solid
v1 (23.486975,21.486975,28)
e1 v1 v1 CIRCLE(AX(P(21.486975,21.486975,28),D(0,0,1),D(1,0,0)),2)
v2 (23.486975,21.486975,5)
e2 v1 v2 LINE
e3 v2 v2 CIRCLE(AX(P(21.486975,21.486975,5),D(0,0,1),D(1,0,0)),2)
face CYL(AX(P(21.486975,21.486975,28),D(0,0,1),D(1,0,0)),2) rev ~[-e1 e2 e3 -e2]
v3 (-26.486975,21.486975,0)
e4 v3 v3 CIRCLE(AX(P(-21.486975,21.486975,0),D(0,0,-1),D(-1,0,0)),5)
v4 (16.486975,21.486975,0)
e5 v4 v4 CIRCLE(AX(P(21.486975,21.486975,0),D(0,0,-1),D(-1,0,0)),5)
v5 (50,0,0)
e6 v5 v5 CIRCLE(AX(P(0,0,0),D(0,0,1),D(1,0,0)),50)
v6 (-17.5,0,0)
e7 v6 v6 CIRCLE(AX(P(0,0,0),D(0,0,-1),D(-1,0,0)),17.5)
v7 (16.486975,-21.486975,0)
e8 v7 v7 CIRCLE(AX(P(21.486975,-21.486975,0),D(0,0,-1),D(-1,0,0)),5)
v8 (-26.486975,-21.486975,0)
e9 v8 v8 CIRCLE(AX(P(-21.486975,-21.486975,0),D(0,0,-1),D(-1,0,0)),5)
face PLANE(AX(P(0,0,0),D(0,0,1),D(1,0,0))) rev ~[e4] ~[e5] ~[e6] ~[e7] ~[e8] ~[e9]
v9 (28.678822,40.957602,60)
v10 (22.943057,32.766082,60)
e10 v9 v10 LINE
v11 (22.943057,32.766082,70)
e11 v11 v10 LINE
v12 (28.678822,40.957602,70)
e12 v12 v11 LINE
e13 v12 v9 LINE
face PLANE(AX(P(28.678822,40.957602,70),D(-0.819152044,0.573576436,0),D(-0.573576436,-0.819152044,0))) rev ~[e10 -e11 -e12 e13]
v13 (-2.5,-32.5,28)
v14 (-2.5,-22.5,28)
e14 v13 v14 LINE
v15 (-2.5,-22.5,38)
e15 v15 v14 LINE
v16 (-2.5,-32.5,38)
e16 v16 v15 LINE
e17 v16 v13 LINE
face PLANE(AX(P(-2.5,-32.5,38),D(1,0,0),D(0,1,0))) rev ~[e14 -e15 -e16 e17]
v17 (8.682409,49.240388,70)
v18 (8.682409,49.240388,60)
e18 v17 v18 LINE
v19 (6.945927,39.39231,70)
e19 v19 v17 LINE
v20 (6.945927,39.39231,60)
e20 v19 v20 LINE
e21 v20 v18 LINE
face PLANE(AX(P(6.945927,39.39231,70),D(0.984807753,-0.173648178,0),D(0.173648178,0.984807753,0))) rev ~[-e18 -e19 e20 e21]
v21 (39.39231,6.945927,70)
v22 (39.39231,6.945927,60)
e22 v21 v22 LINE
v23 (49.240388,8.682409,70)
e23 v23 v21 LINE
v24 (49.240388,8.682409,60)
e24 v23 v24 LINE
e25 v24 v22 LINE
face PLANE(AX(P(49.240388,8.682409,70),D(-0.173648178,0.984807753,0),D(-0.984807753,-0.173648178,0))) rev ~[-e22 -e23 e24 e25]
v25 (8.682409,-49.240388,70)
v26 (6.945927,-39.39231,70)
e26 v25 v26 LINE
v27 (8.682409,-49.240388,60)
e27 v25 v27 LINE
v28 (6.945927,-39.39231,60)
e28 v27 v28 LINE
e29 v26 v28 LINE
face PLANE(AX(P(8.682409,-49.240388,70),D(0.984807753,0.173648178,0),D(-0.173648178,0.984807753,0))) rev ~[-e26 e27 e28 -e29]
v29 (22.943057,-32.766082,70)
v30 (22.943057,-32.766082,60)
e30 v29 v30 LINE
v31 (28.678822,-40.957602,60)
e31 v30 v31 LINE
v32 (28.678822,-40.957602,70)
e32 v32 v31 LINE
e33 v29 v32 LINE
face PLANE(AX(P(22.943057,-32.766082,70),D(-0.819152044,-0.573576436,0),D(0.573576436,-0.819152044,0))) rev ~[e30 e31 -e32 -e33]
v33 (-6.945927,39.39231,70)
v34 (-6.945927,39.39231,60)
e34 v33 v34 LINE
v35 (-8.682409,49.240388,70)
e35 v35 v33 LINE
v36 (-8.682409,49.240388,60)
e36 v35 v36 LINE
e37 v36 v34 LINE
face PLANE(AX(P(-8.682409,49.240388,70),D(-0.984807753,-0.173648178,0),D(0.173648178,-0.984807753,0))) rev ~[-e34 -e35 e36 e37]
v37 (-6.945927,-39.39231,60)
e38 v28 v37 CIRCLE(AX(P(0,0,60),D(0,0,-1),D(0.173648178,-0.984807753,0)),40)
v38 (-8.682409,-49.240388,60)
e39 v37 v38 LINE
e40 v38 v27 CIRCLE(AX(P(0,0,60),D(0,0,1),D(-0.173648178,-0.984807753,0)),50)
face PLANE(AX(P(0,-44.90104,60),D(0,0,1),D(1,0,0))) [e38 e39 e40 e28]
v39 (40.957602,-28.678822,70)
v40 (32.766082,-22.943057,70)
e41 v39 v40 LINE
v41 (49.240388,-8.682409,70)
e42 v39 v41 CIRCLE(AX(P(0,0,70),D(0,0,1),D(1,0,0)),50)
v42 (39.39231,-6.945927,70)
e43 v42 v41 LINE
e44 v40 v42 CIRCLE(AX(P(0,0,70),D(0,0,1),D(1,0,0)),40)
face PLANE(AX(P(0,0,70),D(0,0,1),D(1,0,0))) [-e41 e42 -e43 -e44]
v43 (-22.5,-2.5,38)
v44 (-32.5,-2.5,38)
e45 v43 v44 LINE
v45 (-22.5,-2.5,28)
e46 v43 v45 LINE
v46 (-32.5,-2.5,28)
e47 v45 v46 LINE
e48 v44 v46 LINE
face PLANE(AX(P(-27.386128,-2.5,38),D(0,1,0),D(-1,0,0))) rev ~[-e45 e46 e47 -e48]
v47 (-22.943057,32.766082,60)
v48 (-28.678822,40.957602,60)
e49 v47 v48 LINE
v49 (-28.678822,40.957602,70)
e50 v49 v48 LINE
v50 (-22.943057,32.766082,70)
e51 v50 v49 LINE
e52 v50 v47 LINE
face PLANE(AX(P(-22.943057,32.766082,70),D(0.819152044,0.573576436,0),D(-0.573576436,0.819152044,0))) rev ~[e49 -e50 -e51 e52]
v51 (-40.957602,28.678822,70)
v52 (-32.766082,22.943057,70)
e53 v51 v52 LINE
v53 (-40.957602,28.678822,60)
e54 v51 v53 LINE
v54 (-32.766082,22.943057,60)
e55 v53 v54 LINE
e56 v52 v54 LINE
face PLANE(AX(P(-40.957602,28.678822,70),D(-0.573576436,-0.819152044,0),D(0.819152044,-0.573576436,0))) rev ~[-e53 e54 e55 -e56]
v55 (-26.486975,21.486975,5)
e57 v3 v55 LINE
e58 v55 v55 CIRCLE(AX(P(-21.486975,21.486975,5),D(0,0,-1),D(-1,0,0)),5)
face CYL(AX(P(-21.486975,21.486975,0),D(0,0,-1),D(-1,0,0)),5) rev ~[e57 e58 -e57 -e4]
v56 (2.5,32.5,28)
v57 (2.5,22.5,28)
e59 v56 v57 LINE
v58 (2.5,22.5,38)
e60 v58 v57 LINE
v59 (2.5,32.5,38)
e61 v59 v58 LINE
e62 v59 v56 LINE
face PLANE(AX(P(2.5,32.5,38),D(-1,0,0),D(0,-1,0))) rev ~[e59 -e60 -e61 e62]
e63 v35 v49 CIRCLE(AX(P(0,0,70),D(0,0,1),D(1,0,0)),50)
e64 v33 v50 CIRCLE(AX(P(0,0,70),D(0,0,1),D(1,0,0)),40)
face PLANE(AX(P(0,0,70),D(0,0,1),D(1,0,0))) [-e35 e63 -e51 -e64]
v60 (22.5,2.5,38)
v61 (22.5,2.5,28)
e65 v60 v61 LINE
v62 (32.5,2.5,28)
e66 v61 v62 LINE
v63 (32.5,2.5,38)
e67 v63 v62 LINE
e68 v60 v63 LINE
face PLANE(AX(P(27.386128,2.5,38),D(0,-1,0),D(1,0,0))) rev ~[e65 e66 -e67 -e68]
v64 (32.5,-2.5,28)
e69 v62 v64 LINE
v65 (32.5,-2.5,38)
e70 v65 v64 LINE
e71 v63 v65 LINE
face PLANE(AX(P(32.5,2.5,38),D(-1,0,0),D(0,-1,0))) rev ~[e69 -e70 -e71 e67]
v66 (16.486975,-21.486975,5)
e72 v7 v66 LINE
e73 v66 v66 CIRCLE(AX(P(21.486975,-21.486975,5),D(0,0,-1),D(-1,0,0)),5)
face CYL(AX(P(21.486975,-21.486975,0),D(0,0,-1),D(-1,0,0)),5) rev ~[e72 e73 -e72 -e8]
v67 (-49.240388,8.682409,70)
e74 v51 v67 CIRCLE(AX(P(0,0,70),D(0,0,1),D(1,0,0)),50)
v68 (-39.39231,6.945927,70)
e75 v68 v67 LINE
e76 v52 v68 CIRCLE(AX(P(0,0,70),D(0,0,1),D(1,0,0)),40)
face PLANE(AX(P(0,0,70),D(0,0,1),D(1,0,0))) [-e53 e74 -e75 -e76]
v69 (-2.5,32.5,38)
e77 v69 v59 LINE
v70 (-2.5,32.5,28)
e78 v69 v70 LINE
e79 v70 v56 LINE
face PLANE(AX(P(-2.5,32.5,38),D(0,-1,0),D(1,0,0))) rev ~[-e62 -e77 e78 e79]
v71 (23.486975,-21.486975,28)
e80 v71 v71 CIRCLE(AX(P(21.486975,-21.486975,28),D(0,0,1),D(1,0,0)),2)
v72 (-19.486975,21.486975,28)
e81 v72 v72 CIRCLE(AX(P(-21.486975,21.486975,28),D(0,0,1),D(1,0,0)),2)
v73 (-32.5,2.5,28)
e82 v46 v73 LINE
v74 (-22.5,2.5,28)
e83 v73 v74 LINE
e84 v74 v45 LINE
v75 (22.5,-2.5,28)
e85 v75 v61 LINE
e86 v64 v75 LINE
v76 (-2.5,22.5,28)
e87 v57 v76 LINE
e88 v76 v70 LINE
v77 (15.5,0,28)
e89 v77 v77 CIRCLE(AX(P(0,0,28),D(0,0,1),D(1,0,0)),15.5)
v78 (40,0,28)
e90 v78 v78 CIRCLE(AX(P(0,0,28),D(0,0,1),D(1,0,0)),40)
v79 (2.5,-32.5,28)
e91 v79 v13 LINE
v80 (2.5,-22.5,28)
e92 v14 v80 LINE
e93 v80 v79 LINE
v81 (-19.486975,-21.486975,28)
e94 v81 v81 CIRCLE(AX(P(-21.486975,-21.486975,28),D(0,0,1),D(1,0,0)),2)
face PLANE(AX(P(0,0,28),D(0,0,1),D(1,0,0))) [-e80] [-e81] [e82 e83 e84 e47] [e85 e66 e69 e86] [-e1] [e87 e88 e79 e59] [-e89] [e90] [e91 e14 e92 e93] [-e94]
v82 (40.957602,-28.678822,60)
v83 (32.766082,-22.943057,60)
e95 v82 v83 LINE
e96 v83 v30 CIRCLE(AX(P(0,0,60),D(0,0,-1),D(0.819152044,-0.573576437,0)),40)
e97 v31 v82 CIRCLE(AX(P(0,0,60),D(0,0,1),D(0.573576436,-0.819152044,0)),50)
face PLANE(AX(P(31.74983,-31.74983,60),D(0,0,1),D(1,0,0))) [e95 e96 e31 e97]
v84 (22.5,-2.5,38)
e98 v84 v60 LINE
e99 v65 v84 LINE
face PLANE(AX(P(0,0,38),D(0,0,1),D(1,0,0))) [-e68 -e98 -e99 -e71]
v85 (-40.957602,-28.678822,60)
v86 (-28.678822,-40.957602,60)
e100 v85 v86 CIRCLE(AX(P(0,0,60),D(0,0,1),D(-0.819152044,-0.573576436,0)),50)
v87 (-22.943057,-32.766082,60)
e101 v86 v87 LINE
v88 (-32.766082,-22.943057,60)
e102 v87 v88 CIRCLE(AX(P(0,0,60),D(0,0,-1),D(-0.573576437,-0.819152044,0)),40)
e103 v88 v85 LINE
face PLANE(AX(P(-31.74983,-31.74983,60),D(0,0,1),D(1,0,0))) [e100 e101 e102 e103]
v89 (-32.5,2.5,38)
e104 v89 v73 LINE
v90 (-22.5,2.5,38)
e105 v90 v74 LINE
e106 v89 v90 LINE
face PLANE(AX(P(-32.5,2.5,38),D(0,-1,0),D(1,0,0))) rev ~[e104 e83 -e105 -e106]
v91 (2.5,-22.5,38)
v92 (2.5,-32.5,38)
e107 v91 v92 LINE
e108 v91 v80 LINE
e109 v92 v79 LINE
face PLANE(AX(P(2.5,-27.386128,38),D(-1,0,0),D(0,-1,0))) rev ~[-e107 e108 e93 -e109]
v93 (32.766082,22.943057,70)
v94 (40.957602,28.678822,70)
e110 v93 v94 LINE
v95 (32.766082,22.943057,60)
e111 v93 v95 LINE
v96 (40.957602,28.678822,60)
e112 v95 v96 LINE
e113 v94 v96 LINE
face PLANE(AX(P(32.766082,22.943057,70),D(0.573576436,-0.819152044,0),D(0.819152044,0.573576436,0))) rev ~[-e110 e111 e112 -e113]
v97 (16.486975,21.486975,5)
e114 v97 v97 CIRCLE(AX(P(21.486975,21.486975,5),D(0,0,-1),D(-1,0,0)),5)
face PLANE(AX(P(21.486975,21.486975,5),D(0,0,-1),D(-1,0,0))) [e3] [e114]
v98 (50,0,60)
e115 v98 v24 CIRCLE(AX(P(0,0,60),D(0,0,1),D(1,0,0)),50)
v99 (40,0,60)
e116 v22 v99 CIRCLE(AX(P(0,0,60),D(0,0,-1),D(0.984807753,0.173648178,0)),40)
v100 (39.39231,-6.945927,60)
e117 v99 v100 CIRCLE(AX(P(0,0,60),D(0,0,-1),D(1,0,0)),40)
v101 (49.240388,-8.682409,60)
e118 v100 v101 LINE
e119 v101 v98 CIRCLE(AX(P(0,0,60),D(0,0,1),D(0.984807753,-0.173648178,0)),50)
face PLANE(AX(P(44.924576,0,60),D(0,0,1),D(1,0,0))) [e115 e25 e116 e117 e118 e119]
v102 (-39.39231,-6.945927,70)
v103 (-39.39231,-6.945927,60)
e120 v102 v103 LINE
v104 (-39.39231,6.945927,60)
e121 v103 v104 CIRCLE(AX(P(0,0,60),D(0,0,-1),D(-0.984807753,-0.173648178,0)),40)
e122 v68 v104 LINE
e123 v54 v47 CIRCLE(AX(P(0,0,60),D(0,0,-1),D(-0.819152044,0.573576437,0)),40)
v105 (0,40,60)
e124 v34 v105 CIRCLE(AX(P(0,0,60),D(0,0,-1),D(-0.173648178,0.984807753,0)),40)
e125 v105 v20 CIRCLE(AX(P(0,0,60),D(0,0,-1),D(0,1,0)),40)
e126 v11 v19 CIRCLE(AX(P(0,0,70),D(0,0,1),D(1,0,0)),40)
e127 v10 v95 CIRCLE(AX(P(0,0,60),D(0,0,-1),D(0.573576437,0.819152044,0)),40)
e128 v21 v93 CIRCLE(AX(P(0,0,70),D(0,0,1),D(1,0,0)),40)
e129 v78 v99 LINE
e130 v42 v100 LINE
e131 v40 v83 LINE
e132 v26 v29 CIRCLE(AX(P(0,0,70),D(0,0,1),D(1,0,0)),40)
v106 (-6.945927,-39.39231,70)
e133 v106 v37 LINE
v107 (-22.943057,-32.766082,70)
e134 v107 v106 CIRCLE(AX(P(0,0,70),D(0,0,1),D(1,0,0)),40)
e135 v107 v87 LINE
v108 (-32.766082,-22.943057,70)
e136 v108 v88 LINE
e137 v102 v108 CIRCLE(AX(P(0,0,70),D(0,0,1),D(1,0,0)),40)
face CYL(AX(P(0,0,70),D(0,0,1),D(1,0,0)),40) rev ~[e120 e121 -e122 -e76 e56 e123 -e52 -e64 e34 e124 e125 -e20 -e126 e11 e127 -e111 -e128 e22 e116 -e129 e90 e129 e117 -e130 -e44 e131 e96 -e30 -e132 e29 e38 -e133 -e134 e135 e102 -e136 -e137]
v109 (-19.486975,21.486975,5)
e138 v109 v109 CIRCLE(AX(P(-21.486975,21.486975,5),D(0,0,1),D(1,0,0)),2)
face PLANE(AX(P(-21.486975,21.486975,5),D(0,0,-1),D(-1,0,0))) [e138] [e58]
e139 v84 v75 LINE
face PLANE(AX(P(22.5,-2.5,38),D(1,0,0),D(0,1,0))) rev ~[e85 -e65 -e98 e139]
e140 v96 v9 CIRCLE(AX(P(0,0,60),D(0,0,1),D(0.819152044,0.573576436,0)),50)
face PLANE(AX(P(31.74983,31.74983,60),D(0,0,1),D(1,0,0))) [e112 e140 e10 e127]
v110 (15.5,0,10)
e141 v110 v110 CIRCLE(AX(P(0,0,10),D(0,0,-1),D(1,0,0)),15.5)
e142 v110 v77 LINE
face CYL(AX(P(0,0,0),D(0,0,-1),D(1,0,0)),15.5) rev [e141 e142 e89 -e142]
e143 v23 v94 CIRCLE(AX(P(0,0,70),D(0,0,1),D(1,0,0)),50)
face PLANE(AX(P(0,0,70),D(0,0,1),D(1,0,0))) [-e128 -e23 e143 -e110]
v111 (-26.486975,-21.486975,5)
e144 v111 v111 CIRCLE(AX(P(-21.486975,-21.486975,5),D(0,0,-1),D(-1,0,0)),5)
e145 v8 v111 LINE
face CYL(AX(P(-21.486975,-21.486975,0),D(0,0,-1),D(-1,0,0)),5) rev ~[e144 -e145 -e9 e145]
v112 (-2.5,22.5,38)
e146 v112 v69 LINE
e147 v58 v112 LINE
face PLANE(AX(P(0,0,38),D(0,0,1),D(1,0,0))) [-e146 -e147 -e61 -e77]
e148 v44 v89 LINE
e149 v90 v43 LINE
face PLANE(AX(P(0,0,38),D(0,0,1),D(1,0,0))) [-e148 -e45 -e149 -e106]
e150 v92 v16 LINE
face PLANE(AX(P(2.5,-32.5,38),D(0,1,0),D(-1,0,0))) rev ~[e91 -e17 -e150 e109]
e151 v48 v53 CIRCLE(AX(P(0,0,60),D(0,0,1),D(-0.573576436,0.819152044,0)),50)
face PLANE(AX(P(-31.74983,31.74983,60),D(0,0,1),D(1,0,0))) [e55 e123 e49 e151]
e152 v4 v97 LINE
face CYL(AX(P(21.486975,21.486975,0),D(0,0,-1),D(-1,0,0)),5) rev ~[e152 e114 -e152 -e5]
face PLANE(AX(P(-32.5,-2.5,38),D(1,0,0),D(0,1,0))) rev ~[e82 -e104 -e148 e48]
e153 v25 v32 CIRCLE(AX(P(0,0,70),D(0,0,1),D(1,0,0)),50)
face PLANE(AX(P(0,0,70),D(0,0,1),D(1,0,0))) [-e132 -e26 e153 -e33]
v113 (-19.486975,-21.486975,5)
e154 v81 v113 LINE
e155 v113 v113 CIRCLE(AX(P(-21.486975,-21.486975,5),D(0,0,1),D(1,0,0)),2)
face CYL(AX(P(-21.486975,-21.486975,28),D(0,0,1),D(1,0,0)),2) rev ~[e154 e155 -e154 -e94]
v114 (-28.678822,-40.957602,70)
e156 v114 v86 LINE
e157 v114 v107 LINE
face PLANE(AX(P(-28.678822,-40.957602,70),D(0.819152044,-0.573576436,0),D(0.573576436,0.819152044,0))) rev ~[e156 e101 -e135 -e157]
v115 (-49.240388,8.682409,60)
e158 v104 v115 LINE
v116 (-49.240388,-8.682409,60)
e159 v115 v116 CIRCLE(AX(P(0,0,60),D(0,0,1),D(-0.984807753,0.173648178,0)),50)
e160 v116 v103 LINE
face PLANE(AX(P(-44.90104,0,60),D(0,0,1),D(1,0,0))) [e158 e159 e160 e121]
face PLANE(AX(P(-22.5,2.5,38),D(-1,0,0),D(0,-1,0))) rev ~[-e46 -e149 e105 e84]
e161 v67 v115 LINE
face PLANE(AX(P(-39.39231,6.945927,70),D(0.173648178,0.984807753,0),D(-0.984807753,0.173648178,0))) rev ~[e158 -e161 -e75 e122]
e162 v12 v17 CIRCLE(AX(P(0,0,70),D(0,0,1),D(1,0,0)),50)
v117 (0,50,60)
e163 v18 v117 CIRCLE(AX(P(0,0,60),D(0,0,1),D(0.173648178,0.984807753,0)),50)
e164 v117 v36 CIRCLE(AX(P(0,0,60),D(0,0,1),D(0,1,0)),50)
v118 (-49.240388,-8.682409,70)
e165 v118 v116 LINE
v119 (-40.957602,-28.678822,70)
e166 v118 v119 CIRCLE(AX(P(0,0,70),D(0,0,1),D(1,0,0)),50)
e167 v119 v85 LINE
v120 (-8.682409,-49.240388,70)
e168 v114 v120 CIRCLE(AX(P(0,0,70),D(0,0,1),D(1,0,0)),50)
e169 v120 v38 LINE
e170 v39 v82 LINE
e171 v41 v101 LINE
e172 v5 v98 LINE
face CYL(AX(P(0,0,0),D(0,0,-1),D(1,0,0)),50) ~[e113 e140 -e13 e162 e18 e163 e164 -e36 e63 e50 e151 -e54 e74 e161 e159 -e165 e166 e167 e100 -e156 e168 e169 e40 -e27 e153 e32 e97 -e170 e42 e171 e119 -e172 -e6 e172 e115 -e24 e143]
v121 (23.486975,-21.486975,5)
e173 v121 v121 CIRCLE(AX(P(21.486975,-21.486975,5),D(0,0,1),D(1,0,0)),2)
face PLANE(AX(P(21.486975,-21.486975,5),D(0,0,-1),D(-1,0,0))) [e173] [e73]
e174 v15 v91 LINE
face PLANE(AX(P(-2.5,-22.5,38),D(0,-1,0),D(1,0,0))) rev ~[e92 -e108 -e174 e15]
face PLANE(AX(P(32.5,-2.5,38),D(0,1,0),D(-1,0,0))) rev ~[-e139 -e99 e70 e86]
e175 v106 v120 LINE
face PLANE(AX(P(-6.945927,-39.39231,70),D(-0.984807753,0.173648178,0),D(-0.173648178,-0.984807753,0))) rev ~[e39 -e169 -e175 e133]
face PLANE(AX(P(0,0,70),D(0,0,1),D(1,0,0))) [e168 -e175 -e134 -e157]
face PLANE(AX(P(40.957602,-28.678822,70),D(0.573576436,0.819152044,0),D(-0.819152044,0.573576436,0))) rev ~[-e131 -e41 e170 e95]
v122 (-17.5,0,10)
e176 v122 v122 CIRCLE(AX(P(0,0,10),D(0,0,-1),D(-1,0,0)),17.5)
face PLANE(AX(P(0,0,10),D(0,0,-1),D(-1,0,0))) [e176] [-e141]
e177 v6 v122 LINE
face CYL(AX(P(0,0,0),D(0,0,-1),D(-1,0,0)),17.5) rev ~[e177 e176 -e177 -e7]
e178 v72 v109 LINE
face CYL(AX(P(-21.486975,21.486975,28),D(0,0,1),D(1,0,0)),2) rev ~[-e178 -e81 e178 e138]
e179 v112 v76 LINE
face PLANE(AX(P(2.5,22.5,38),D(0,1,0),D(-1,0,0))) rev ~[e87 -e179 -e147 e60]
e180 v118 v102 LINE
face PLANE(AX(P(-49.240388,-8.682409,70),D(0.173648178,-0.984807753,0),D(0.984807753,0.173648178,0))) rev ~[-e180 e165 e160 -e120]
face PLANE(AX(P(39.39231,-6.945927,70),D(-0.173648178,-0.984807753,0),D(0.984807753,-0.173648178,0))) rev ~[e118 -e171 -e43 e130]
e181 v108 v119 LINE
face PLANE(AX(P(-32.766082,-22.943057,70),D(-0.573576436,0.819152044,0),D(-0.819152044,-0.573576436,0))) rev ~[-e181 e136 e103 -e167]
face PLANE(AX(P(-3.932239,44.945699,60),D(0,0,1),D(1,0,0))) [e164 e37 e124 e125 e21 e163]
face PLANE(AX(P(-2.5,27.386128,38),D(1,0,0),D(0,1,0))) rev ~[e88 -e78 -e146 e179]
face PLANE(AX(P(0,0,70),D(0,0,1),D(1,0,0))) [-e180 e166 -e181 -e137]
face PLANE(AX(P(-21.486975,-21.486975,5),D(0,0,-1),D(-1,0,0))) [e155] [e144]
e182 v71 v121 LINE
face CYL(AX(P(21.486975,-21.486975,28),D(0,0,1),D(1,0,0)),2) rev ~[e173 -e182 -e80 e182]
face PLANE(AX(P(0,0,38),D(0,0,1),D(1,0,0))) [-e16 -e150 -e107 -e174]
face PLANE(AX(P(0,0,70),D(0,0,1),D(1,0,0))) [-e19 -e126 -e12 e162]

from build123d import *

# Parameters (mm, degrees)
CROQUIS1_R              = 50
CROQUIS1_R_2            = 15.5
SALIENTE_EXTRUIR1_DEPTH = 70
CROQUIS2_R              = 40
CORTAR_EXTRUIR1_DEPTH   = 32
CROQUIS3_R              = 17.5
CORTAR_EXTRUIR2_DEPTH   = 10
CROQUIS4_R              = 40
CROQUIS4_R_2            = 15.5
CORTAR_EXTRUIR3_DEPTH   = 10
CROQUIS5_R              = 2
CORTAR_EXTRUIR4_DEPTH   = 83.24354078
CROQUIS6_R              = 5
CORTAR_EXTRUIR5_DEPTH   = 5
CORTAR_EXTRUIR6_DEPTH   = 10


with BuildPart() as part:
    # Croquis1 → Saliente-Extruir1 (new body)
    with BuildSketch(Plane.XY):
        Circle(CROQUIS1_R)
        Circle(CROQUIS1_R_2, mode=Mode.SUBTRACT)
    extrude(amount=SALIENTE_EXTRUIR1_DEPTH)

    # Croquis2 → Cortar-Extruir1 (cut)
    with BuildSketch(Plane.XY.offset(70)):
        Circle(CROQUIS2_R)
    extrude(amount=-CORTAR_EXTRUIR1_DEPTH, mode=Mode.SUBTRACT)

    # Croquis3 → Cortar-Extruir2 (cut)
    with BuildSketch(Plane(origin=(0, 0, 0), x_dir=(-1, 0, 0), z_dir=(0, 0, -1))):
        Circle(CROQUIS3_R)
    extrude(amount=-CORTAR_EXTRUIR2_DEPTH, mode=Mode.SUBTRACT)

    # Croquis4 → Cortar-Extruir3 (cut)
    # profile 1 of 2: a face of its own
    with BuildSketch(Plane.XY.offset(38)):
        Circle(CROQUIS4_R)
        with BuildLine():
            Line((-2.5, 27.386127875), (-2.5, 32.5))
            Line((-2.5, 32.5), (2.5, 32.5))
            Line((2.5, 32.5), (2.5, 27.386127875))
            ThreePointArc((2.5, 27.386127875), (19.445436483, 19.445436483), (27.386127875, 2.5))
            Line((27.386127875, 2.5), (32.5, 2.5))
            Line((32.5, 2.5), (32.5, -2.5))
            Line((32.5, -2.5), (27.386127875, -2.5))
            ThreePointArc((27.386127875, -2.5), (19.445436483, -19.445436483), (2.5, -27.386127875))
            Line((2.5, -27.386127875), (2.5, -32.5))
            Line((2.5, -32.5), (-2.5, -32.5))
            Line((-2.5, -32.5), (-2.5, -27.386127875))
            ThreePointArc((-2.5, -27.386127875), (-19.445436483, -19.445436483), (-27.386127875, -2.5))
            Line((-27.386127875, -2.5), (-32.5, -2.5))
            Line((-32.5, -2.5), (-32.5, 2.5))
            Line((-32.5, 2.5), (-27.386127875, 2.5))
            ThreePointArc((-27.386127875, 2.5), (-19.445436483, 19.445436483), (-2.5, 27.386127875))
        make_face(mode=Mode.SUBTRACT)
    # profile 2 of 2: a face of its own
    with BuildSketch(Plane.XY.offset(38)):
        with BuildLine():
            Line((-2.5, 22.5), (-2.5, 27.386127875))
            ThreePointArc((-2.5, 27.386127875), (-19.445436483, 19.445436483), (-27.386127875, 2.5))
            Line((-27.386127875, 2.5), (-22.5, 2.5))
            Line((-22.5, 2.5), (-22.5, -2.5))
            Line((-22.5, -2.5), (-27.386127875, -2.5))
            ThreePointArc((-27.386127875, -2.5), (-19.445436483, -19.445436483), (-2.5, -27.386127875))
            Line((-2.5, -27.386127875), (-2.5, -22.5))
            Line((-2.5, -22.5), (2.5, -22.5))
            Line((2.5, -22.5), (2.5, -27.386127875))
            ThreePointArc((2.5, -27.386127875), (19.445436483, -19.445436483), (27.386127875, -2.5))
            Line((27.386127875, -2.5), (22.5, -2.5))
            Line((22.5, -2.5), (22.5, 2.5))
            Line((22.5, 2.5), (27.386127875, 2.5))
            ThreePointArc((27.386127875, 2.5), (19.445436483, 19.445436483), (2.5, 27.386127875))
            Line((2.5, 27.386127875), (2.5, 22.5))
            Line((2.5, 22.5), (-2.5, 22.5))
        make_face()
        with Locations(Location((0, 0, 0), (0, 0, 180))):
            Circle(CROQUIS4_R_2, mode=Mode.SUBTRACT)
    extrude(amount=-CORTAR_EXTRUIR3_DEPTH, mode=Mode.SUBTRACT)

    # Croquis5 → Cortar-Extruir4 (cut, through all)
    with BuildSketch(Plane.XY.offset(28)):
        with Locations((21.486974797, 21.486974797)):
            Circle(CROQUIS5_R)
        with Locations((21.486974797, -21.486974797)):
            Circle(CROQUIS5_R)
        with Locations((-21.486974797, -21.486974797)):
            Circle(CROQUIS5_R)
        with Locations((-21.486974797, 21.486974797)):
            Circle(CROQUIS5_R)
    extrude(amount=-CORTAR_EXTRUIR4_DEPTH, mode=Mode.SUBTRACT)

    # Croquis6 → Cortar-Extruir5 (cut)
    with BuildSketch(Plane(origin=(0, 0, 0), x_dir=(-1, 0, 0), z_dir=(0, 0, -1))):
        with Locations((-21.486974797, 21.486974797)):
            Circle(CROQUIS6_R)
        with Locations((21.486974797, 21.486974797)):
            Circle(CROQUIS6_R)
        with Locations((21.486974797, -21.486974797)):
            Circle(CROQUIS6_R)
        with Locations((-21.486974797, -21.486974797)):
            Circle(CROQUIS6_R)
    extrude(amount=-CORTAR_EXTRUIR5_DEPTH, mode=Mode.SUBTRACT)

    # Croquis7 → Cortar-Extruir6 (cut)
    with BuildSketch(Plane.XY.offset(70)):
        with BuildLine():
            ThreePointArc((-6.945927107, 39.39231012), (-3.48622971, 39.847787924), (0, 40))
            Line((0, 40), (0, 50))
            ThreePointArc((0, 50), (-4.357787137, 49.809734905), (-8.682408883, 49.240387651))
            Line((-8.682408883, 49.240387651), (-6.945927107, 39.39231012))
        make_face()
        with BuildLine():
            Line((0, 50), (0, 40))
            ThreePointArc((0, 40), (3.48622971, 39.847787924), (6.945927107, 39.39231012))
            Line((6.945927107, 39.39231012), (8.682408883, 49.240387651))
            ThreePointArc((8.682408883, 49.240387651), (4.357787137, 49.809734905), (0, 50))
        make_face()
        with BuildLine():
            ThreePointArc((22.943057454, 32.766081772), (28.284271247, 28.284271247), (32.766081772, 22.943057454))
            Line((32.766081772, 22.943057454), (40.957602214, 28.678821818))
            ThreePointArc((40.957602214, 28.678821818), (35.355339059, 35.355339059), (28.678821818, 40.957602214))
            Line((28.678821818, 40.957602214), (22.943057454, 32.766081772))
        make_face()
        with BuildLine():
            ThreePointArc((40, 0), (39.847787924, -3.48622971), (39.39231012, -6.945927107))
            Line((39.39231012, -6.945927107), (49.240387651, -8.682408883))
            ThreePointArc((49.240387651, -8.682408883), (49.809734905, -4.357787137), (50, 0))
            ThreePointArc((50, 0), (49.809734905, 4.357787137), (49.240387651, 8.682408883))
            Line((49.240387651, 8.682408883), (39.39231012, 6.945927107))
            ThreePointArc((39.39231012, 6.945927107), (39.847787924, 3.48622971), (40, 0))
        make_face()
        with BuildLine():
            ThreePointArc((32.766081772, -22.943057454), (28.284271247, -28.284271247), (22.943057454, -32.766081772))
            Line((22.943057454, -32.766081772), (28.678821818, -40.957602214))
            ThreePointArc((28.678821818, -40.957602214), (35.355339059, -35.355339059), (40.957602214, -28.678821818))
            Line((40.957602214, -28.678821818), (32.766081772, -22.943057454))
        make_face()
        with BuildLine():
            ThreePointArc((-32.766081772, 22.943057454), (-28.284271247, 28.284271247), (-22.943057454, 32.766081772))
            Line((-22.943057454, 32.766081772), (-28.678821818, 40.957602214))
            ThreePointArc((-28.678821818, 40.957602214), (-35.355339059, 35.355339059), (-40.957602214, 28.678821818))
            Line((-40.957602214, 28.678821818), (-32.766081772, 22.943057454))
        make_face()
        with BuildLine():
            ThreePointArc((-39.39231012, -6.945927107), (-40, 0), (-39.39231012, 6.945927107))
            Line((-39.39231012, 6.945927107), (-49.240387651, 8.682408883))
            ThreePointArc((-49.240387651, 8.682408883), (-50, 0), (-49.240387651, -8.682408883))
            Line((-49.240387651, -8.682408883), (-39.39231012, -6.945927107))
        make_face()
        with BuildLine():
            ThreePointArc((-22.943057454, -32.766081772), (-28.284271247, -28.284271247), (-32.766081772, -22.943057454))
            Line((-32.766081772, -22.943057454), (-40.957602214, -28.678821818))
            ThreePointArc((-40.957602214, -28.678821818), (-35.355339059, -35.355339059), (-28.678821818, -40.957602214))
            Line((-28.678821818, -40.957602214), (-22.943057454, -32.766081772))
        make_face()
        with BuildLine():
            ThreePointArc((6.945927107, -39.39231012), (0, -40), (-6.945927107, -39.39231012))
            Line((-6.945927107, -39.39231012), (-8.682408883, -49.240387651))
            ThreePointArc((-8.682408883, -49.240387651), (0, -50), (8.682408883, -49.240387651))
            Line((8.682408883, -49.240387651), (6.945927107, -39.39231012))
        make_face()
    extrude(amount=-CORTAR_EXTRUIR6_DEPTH, mode=Mode.SUBTRACT)


solid = part.part
